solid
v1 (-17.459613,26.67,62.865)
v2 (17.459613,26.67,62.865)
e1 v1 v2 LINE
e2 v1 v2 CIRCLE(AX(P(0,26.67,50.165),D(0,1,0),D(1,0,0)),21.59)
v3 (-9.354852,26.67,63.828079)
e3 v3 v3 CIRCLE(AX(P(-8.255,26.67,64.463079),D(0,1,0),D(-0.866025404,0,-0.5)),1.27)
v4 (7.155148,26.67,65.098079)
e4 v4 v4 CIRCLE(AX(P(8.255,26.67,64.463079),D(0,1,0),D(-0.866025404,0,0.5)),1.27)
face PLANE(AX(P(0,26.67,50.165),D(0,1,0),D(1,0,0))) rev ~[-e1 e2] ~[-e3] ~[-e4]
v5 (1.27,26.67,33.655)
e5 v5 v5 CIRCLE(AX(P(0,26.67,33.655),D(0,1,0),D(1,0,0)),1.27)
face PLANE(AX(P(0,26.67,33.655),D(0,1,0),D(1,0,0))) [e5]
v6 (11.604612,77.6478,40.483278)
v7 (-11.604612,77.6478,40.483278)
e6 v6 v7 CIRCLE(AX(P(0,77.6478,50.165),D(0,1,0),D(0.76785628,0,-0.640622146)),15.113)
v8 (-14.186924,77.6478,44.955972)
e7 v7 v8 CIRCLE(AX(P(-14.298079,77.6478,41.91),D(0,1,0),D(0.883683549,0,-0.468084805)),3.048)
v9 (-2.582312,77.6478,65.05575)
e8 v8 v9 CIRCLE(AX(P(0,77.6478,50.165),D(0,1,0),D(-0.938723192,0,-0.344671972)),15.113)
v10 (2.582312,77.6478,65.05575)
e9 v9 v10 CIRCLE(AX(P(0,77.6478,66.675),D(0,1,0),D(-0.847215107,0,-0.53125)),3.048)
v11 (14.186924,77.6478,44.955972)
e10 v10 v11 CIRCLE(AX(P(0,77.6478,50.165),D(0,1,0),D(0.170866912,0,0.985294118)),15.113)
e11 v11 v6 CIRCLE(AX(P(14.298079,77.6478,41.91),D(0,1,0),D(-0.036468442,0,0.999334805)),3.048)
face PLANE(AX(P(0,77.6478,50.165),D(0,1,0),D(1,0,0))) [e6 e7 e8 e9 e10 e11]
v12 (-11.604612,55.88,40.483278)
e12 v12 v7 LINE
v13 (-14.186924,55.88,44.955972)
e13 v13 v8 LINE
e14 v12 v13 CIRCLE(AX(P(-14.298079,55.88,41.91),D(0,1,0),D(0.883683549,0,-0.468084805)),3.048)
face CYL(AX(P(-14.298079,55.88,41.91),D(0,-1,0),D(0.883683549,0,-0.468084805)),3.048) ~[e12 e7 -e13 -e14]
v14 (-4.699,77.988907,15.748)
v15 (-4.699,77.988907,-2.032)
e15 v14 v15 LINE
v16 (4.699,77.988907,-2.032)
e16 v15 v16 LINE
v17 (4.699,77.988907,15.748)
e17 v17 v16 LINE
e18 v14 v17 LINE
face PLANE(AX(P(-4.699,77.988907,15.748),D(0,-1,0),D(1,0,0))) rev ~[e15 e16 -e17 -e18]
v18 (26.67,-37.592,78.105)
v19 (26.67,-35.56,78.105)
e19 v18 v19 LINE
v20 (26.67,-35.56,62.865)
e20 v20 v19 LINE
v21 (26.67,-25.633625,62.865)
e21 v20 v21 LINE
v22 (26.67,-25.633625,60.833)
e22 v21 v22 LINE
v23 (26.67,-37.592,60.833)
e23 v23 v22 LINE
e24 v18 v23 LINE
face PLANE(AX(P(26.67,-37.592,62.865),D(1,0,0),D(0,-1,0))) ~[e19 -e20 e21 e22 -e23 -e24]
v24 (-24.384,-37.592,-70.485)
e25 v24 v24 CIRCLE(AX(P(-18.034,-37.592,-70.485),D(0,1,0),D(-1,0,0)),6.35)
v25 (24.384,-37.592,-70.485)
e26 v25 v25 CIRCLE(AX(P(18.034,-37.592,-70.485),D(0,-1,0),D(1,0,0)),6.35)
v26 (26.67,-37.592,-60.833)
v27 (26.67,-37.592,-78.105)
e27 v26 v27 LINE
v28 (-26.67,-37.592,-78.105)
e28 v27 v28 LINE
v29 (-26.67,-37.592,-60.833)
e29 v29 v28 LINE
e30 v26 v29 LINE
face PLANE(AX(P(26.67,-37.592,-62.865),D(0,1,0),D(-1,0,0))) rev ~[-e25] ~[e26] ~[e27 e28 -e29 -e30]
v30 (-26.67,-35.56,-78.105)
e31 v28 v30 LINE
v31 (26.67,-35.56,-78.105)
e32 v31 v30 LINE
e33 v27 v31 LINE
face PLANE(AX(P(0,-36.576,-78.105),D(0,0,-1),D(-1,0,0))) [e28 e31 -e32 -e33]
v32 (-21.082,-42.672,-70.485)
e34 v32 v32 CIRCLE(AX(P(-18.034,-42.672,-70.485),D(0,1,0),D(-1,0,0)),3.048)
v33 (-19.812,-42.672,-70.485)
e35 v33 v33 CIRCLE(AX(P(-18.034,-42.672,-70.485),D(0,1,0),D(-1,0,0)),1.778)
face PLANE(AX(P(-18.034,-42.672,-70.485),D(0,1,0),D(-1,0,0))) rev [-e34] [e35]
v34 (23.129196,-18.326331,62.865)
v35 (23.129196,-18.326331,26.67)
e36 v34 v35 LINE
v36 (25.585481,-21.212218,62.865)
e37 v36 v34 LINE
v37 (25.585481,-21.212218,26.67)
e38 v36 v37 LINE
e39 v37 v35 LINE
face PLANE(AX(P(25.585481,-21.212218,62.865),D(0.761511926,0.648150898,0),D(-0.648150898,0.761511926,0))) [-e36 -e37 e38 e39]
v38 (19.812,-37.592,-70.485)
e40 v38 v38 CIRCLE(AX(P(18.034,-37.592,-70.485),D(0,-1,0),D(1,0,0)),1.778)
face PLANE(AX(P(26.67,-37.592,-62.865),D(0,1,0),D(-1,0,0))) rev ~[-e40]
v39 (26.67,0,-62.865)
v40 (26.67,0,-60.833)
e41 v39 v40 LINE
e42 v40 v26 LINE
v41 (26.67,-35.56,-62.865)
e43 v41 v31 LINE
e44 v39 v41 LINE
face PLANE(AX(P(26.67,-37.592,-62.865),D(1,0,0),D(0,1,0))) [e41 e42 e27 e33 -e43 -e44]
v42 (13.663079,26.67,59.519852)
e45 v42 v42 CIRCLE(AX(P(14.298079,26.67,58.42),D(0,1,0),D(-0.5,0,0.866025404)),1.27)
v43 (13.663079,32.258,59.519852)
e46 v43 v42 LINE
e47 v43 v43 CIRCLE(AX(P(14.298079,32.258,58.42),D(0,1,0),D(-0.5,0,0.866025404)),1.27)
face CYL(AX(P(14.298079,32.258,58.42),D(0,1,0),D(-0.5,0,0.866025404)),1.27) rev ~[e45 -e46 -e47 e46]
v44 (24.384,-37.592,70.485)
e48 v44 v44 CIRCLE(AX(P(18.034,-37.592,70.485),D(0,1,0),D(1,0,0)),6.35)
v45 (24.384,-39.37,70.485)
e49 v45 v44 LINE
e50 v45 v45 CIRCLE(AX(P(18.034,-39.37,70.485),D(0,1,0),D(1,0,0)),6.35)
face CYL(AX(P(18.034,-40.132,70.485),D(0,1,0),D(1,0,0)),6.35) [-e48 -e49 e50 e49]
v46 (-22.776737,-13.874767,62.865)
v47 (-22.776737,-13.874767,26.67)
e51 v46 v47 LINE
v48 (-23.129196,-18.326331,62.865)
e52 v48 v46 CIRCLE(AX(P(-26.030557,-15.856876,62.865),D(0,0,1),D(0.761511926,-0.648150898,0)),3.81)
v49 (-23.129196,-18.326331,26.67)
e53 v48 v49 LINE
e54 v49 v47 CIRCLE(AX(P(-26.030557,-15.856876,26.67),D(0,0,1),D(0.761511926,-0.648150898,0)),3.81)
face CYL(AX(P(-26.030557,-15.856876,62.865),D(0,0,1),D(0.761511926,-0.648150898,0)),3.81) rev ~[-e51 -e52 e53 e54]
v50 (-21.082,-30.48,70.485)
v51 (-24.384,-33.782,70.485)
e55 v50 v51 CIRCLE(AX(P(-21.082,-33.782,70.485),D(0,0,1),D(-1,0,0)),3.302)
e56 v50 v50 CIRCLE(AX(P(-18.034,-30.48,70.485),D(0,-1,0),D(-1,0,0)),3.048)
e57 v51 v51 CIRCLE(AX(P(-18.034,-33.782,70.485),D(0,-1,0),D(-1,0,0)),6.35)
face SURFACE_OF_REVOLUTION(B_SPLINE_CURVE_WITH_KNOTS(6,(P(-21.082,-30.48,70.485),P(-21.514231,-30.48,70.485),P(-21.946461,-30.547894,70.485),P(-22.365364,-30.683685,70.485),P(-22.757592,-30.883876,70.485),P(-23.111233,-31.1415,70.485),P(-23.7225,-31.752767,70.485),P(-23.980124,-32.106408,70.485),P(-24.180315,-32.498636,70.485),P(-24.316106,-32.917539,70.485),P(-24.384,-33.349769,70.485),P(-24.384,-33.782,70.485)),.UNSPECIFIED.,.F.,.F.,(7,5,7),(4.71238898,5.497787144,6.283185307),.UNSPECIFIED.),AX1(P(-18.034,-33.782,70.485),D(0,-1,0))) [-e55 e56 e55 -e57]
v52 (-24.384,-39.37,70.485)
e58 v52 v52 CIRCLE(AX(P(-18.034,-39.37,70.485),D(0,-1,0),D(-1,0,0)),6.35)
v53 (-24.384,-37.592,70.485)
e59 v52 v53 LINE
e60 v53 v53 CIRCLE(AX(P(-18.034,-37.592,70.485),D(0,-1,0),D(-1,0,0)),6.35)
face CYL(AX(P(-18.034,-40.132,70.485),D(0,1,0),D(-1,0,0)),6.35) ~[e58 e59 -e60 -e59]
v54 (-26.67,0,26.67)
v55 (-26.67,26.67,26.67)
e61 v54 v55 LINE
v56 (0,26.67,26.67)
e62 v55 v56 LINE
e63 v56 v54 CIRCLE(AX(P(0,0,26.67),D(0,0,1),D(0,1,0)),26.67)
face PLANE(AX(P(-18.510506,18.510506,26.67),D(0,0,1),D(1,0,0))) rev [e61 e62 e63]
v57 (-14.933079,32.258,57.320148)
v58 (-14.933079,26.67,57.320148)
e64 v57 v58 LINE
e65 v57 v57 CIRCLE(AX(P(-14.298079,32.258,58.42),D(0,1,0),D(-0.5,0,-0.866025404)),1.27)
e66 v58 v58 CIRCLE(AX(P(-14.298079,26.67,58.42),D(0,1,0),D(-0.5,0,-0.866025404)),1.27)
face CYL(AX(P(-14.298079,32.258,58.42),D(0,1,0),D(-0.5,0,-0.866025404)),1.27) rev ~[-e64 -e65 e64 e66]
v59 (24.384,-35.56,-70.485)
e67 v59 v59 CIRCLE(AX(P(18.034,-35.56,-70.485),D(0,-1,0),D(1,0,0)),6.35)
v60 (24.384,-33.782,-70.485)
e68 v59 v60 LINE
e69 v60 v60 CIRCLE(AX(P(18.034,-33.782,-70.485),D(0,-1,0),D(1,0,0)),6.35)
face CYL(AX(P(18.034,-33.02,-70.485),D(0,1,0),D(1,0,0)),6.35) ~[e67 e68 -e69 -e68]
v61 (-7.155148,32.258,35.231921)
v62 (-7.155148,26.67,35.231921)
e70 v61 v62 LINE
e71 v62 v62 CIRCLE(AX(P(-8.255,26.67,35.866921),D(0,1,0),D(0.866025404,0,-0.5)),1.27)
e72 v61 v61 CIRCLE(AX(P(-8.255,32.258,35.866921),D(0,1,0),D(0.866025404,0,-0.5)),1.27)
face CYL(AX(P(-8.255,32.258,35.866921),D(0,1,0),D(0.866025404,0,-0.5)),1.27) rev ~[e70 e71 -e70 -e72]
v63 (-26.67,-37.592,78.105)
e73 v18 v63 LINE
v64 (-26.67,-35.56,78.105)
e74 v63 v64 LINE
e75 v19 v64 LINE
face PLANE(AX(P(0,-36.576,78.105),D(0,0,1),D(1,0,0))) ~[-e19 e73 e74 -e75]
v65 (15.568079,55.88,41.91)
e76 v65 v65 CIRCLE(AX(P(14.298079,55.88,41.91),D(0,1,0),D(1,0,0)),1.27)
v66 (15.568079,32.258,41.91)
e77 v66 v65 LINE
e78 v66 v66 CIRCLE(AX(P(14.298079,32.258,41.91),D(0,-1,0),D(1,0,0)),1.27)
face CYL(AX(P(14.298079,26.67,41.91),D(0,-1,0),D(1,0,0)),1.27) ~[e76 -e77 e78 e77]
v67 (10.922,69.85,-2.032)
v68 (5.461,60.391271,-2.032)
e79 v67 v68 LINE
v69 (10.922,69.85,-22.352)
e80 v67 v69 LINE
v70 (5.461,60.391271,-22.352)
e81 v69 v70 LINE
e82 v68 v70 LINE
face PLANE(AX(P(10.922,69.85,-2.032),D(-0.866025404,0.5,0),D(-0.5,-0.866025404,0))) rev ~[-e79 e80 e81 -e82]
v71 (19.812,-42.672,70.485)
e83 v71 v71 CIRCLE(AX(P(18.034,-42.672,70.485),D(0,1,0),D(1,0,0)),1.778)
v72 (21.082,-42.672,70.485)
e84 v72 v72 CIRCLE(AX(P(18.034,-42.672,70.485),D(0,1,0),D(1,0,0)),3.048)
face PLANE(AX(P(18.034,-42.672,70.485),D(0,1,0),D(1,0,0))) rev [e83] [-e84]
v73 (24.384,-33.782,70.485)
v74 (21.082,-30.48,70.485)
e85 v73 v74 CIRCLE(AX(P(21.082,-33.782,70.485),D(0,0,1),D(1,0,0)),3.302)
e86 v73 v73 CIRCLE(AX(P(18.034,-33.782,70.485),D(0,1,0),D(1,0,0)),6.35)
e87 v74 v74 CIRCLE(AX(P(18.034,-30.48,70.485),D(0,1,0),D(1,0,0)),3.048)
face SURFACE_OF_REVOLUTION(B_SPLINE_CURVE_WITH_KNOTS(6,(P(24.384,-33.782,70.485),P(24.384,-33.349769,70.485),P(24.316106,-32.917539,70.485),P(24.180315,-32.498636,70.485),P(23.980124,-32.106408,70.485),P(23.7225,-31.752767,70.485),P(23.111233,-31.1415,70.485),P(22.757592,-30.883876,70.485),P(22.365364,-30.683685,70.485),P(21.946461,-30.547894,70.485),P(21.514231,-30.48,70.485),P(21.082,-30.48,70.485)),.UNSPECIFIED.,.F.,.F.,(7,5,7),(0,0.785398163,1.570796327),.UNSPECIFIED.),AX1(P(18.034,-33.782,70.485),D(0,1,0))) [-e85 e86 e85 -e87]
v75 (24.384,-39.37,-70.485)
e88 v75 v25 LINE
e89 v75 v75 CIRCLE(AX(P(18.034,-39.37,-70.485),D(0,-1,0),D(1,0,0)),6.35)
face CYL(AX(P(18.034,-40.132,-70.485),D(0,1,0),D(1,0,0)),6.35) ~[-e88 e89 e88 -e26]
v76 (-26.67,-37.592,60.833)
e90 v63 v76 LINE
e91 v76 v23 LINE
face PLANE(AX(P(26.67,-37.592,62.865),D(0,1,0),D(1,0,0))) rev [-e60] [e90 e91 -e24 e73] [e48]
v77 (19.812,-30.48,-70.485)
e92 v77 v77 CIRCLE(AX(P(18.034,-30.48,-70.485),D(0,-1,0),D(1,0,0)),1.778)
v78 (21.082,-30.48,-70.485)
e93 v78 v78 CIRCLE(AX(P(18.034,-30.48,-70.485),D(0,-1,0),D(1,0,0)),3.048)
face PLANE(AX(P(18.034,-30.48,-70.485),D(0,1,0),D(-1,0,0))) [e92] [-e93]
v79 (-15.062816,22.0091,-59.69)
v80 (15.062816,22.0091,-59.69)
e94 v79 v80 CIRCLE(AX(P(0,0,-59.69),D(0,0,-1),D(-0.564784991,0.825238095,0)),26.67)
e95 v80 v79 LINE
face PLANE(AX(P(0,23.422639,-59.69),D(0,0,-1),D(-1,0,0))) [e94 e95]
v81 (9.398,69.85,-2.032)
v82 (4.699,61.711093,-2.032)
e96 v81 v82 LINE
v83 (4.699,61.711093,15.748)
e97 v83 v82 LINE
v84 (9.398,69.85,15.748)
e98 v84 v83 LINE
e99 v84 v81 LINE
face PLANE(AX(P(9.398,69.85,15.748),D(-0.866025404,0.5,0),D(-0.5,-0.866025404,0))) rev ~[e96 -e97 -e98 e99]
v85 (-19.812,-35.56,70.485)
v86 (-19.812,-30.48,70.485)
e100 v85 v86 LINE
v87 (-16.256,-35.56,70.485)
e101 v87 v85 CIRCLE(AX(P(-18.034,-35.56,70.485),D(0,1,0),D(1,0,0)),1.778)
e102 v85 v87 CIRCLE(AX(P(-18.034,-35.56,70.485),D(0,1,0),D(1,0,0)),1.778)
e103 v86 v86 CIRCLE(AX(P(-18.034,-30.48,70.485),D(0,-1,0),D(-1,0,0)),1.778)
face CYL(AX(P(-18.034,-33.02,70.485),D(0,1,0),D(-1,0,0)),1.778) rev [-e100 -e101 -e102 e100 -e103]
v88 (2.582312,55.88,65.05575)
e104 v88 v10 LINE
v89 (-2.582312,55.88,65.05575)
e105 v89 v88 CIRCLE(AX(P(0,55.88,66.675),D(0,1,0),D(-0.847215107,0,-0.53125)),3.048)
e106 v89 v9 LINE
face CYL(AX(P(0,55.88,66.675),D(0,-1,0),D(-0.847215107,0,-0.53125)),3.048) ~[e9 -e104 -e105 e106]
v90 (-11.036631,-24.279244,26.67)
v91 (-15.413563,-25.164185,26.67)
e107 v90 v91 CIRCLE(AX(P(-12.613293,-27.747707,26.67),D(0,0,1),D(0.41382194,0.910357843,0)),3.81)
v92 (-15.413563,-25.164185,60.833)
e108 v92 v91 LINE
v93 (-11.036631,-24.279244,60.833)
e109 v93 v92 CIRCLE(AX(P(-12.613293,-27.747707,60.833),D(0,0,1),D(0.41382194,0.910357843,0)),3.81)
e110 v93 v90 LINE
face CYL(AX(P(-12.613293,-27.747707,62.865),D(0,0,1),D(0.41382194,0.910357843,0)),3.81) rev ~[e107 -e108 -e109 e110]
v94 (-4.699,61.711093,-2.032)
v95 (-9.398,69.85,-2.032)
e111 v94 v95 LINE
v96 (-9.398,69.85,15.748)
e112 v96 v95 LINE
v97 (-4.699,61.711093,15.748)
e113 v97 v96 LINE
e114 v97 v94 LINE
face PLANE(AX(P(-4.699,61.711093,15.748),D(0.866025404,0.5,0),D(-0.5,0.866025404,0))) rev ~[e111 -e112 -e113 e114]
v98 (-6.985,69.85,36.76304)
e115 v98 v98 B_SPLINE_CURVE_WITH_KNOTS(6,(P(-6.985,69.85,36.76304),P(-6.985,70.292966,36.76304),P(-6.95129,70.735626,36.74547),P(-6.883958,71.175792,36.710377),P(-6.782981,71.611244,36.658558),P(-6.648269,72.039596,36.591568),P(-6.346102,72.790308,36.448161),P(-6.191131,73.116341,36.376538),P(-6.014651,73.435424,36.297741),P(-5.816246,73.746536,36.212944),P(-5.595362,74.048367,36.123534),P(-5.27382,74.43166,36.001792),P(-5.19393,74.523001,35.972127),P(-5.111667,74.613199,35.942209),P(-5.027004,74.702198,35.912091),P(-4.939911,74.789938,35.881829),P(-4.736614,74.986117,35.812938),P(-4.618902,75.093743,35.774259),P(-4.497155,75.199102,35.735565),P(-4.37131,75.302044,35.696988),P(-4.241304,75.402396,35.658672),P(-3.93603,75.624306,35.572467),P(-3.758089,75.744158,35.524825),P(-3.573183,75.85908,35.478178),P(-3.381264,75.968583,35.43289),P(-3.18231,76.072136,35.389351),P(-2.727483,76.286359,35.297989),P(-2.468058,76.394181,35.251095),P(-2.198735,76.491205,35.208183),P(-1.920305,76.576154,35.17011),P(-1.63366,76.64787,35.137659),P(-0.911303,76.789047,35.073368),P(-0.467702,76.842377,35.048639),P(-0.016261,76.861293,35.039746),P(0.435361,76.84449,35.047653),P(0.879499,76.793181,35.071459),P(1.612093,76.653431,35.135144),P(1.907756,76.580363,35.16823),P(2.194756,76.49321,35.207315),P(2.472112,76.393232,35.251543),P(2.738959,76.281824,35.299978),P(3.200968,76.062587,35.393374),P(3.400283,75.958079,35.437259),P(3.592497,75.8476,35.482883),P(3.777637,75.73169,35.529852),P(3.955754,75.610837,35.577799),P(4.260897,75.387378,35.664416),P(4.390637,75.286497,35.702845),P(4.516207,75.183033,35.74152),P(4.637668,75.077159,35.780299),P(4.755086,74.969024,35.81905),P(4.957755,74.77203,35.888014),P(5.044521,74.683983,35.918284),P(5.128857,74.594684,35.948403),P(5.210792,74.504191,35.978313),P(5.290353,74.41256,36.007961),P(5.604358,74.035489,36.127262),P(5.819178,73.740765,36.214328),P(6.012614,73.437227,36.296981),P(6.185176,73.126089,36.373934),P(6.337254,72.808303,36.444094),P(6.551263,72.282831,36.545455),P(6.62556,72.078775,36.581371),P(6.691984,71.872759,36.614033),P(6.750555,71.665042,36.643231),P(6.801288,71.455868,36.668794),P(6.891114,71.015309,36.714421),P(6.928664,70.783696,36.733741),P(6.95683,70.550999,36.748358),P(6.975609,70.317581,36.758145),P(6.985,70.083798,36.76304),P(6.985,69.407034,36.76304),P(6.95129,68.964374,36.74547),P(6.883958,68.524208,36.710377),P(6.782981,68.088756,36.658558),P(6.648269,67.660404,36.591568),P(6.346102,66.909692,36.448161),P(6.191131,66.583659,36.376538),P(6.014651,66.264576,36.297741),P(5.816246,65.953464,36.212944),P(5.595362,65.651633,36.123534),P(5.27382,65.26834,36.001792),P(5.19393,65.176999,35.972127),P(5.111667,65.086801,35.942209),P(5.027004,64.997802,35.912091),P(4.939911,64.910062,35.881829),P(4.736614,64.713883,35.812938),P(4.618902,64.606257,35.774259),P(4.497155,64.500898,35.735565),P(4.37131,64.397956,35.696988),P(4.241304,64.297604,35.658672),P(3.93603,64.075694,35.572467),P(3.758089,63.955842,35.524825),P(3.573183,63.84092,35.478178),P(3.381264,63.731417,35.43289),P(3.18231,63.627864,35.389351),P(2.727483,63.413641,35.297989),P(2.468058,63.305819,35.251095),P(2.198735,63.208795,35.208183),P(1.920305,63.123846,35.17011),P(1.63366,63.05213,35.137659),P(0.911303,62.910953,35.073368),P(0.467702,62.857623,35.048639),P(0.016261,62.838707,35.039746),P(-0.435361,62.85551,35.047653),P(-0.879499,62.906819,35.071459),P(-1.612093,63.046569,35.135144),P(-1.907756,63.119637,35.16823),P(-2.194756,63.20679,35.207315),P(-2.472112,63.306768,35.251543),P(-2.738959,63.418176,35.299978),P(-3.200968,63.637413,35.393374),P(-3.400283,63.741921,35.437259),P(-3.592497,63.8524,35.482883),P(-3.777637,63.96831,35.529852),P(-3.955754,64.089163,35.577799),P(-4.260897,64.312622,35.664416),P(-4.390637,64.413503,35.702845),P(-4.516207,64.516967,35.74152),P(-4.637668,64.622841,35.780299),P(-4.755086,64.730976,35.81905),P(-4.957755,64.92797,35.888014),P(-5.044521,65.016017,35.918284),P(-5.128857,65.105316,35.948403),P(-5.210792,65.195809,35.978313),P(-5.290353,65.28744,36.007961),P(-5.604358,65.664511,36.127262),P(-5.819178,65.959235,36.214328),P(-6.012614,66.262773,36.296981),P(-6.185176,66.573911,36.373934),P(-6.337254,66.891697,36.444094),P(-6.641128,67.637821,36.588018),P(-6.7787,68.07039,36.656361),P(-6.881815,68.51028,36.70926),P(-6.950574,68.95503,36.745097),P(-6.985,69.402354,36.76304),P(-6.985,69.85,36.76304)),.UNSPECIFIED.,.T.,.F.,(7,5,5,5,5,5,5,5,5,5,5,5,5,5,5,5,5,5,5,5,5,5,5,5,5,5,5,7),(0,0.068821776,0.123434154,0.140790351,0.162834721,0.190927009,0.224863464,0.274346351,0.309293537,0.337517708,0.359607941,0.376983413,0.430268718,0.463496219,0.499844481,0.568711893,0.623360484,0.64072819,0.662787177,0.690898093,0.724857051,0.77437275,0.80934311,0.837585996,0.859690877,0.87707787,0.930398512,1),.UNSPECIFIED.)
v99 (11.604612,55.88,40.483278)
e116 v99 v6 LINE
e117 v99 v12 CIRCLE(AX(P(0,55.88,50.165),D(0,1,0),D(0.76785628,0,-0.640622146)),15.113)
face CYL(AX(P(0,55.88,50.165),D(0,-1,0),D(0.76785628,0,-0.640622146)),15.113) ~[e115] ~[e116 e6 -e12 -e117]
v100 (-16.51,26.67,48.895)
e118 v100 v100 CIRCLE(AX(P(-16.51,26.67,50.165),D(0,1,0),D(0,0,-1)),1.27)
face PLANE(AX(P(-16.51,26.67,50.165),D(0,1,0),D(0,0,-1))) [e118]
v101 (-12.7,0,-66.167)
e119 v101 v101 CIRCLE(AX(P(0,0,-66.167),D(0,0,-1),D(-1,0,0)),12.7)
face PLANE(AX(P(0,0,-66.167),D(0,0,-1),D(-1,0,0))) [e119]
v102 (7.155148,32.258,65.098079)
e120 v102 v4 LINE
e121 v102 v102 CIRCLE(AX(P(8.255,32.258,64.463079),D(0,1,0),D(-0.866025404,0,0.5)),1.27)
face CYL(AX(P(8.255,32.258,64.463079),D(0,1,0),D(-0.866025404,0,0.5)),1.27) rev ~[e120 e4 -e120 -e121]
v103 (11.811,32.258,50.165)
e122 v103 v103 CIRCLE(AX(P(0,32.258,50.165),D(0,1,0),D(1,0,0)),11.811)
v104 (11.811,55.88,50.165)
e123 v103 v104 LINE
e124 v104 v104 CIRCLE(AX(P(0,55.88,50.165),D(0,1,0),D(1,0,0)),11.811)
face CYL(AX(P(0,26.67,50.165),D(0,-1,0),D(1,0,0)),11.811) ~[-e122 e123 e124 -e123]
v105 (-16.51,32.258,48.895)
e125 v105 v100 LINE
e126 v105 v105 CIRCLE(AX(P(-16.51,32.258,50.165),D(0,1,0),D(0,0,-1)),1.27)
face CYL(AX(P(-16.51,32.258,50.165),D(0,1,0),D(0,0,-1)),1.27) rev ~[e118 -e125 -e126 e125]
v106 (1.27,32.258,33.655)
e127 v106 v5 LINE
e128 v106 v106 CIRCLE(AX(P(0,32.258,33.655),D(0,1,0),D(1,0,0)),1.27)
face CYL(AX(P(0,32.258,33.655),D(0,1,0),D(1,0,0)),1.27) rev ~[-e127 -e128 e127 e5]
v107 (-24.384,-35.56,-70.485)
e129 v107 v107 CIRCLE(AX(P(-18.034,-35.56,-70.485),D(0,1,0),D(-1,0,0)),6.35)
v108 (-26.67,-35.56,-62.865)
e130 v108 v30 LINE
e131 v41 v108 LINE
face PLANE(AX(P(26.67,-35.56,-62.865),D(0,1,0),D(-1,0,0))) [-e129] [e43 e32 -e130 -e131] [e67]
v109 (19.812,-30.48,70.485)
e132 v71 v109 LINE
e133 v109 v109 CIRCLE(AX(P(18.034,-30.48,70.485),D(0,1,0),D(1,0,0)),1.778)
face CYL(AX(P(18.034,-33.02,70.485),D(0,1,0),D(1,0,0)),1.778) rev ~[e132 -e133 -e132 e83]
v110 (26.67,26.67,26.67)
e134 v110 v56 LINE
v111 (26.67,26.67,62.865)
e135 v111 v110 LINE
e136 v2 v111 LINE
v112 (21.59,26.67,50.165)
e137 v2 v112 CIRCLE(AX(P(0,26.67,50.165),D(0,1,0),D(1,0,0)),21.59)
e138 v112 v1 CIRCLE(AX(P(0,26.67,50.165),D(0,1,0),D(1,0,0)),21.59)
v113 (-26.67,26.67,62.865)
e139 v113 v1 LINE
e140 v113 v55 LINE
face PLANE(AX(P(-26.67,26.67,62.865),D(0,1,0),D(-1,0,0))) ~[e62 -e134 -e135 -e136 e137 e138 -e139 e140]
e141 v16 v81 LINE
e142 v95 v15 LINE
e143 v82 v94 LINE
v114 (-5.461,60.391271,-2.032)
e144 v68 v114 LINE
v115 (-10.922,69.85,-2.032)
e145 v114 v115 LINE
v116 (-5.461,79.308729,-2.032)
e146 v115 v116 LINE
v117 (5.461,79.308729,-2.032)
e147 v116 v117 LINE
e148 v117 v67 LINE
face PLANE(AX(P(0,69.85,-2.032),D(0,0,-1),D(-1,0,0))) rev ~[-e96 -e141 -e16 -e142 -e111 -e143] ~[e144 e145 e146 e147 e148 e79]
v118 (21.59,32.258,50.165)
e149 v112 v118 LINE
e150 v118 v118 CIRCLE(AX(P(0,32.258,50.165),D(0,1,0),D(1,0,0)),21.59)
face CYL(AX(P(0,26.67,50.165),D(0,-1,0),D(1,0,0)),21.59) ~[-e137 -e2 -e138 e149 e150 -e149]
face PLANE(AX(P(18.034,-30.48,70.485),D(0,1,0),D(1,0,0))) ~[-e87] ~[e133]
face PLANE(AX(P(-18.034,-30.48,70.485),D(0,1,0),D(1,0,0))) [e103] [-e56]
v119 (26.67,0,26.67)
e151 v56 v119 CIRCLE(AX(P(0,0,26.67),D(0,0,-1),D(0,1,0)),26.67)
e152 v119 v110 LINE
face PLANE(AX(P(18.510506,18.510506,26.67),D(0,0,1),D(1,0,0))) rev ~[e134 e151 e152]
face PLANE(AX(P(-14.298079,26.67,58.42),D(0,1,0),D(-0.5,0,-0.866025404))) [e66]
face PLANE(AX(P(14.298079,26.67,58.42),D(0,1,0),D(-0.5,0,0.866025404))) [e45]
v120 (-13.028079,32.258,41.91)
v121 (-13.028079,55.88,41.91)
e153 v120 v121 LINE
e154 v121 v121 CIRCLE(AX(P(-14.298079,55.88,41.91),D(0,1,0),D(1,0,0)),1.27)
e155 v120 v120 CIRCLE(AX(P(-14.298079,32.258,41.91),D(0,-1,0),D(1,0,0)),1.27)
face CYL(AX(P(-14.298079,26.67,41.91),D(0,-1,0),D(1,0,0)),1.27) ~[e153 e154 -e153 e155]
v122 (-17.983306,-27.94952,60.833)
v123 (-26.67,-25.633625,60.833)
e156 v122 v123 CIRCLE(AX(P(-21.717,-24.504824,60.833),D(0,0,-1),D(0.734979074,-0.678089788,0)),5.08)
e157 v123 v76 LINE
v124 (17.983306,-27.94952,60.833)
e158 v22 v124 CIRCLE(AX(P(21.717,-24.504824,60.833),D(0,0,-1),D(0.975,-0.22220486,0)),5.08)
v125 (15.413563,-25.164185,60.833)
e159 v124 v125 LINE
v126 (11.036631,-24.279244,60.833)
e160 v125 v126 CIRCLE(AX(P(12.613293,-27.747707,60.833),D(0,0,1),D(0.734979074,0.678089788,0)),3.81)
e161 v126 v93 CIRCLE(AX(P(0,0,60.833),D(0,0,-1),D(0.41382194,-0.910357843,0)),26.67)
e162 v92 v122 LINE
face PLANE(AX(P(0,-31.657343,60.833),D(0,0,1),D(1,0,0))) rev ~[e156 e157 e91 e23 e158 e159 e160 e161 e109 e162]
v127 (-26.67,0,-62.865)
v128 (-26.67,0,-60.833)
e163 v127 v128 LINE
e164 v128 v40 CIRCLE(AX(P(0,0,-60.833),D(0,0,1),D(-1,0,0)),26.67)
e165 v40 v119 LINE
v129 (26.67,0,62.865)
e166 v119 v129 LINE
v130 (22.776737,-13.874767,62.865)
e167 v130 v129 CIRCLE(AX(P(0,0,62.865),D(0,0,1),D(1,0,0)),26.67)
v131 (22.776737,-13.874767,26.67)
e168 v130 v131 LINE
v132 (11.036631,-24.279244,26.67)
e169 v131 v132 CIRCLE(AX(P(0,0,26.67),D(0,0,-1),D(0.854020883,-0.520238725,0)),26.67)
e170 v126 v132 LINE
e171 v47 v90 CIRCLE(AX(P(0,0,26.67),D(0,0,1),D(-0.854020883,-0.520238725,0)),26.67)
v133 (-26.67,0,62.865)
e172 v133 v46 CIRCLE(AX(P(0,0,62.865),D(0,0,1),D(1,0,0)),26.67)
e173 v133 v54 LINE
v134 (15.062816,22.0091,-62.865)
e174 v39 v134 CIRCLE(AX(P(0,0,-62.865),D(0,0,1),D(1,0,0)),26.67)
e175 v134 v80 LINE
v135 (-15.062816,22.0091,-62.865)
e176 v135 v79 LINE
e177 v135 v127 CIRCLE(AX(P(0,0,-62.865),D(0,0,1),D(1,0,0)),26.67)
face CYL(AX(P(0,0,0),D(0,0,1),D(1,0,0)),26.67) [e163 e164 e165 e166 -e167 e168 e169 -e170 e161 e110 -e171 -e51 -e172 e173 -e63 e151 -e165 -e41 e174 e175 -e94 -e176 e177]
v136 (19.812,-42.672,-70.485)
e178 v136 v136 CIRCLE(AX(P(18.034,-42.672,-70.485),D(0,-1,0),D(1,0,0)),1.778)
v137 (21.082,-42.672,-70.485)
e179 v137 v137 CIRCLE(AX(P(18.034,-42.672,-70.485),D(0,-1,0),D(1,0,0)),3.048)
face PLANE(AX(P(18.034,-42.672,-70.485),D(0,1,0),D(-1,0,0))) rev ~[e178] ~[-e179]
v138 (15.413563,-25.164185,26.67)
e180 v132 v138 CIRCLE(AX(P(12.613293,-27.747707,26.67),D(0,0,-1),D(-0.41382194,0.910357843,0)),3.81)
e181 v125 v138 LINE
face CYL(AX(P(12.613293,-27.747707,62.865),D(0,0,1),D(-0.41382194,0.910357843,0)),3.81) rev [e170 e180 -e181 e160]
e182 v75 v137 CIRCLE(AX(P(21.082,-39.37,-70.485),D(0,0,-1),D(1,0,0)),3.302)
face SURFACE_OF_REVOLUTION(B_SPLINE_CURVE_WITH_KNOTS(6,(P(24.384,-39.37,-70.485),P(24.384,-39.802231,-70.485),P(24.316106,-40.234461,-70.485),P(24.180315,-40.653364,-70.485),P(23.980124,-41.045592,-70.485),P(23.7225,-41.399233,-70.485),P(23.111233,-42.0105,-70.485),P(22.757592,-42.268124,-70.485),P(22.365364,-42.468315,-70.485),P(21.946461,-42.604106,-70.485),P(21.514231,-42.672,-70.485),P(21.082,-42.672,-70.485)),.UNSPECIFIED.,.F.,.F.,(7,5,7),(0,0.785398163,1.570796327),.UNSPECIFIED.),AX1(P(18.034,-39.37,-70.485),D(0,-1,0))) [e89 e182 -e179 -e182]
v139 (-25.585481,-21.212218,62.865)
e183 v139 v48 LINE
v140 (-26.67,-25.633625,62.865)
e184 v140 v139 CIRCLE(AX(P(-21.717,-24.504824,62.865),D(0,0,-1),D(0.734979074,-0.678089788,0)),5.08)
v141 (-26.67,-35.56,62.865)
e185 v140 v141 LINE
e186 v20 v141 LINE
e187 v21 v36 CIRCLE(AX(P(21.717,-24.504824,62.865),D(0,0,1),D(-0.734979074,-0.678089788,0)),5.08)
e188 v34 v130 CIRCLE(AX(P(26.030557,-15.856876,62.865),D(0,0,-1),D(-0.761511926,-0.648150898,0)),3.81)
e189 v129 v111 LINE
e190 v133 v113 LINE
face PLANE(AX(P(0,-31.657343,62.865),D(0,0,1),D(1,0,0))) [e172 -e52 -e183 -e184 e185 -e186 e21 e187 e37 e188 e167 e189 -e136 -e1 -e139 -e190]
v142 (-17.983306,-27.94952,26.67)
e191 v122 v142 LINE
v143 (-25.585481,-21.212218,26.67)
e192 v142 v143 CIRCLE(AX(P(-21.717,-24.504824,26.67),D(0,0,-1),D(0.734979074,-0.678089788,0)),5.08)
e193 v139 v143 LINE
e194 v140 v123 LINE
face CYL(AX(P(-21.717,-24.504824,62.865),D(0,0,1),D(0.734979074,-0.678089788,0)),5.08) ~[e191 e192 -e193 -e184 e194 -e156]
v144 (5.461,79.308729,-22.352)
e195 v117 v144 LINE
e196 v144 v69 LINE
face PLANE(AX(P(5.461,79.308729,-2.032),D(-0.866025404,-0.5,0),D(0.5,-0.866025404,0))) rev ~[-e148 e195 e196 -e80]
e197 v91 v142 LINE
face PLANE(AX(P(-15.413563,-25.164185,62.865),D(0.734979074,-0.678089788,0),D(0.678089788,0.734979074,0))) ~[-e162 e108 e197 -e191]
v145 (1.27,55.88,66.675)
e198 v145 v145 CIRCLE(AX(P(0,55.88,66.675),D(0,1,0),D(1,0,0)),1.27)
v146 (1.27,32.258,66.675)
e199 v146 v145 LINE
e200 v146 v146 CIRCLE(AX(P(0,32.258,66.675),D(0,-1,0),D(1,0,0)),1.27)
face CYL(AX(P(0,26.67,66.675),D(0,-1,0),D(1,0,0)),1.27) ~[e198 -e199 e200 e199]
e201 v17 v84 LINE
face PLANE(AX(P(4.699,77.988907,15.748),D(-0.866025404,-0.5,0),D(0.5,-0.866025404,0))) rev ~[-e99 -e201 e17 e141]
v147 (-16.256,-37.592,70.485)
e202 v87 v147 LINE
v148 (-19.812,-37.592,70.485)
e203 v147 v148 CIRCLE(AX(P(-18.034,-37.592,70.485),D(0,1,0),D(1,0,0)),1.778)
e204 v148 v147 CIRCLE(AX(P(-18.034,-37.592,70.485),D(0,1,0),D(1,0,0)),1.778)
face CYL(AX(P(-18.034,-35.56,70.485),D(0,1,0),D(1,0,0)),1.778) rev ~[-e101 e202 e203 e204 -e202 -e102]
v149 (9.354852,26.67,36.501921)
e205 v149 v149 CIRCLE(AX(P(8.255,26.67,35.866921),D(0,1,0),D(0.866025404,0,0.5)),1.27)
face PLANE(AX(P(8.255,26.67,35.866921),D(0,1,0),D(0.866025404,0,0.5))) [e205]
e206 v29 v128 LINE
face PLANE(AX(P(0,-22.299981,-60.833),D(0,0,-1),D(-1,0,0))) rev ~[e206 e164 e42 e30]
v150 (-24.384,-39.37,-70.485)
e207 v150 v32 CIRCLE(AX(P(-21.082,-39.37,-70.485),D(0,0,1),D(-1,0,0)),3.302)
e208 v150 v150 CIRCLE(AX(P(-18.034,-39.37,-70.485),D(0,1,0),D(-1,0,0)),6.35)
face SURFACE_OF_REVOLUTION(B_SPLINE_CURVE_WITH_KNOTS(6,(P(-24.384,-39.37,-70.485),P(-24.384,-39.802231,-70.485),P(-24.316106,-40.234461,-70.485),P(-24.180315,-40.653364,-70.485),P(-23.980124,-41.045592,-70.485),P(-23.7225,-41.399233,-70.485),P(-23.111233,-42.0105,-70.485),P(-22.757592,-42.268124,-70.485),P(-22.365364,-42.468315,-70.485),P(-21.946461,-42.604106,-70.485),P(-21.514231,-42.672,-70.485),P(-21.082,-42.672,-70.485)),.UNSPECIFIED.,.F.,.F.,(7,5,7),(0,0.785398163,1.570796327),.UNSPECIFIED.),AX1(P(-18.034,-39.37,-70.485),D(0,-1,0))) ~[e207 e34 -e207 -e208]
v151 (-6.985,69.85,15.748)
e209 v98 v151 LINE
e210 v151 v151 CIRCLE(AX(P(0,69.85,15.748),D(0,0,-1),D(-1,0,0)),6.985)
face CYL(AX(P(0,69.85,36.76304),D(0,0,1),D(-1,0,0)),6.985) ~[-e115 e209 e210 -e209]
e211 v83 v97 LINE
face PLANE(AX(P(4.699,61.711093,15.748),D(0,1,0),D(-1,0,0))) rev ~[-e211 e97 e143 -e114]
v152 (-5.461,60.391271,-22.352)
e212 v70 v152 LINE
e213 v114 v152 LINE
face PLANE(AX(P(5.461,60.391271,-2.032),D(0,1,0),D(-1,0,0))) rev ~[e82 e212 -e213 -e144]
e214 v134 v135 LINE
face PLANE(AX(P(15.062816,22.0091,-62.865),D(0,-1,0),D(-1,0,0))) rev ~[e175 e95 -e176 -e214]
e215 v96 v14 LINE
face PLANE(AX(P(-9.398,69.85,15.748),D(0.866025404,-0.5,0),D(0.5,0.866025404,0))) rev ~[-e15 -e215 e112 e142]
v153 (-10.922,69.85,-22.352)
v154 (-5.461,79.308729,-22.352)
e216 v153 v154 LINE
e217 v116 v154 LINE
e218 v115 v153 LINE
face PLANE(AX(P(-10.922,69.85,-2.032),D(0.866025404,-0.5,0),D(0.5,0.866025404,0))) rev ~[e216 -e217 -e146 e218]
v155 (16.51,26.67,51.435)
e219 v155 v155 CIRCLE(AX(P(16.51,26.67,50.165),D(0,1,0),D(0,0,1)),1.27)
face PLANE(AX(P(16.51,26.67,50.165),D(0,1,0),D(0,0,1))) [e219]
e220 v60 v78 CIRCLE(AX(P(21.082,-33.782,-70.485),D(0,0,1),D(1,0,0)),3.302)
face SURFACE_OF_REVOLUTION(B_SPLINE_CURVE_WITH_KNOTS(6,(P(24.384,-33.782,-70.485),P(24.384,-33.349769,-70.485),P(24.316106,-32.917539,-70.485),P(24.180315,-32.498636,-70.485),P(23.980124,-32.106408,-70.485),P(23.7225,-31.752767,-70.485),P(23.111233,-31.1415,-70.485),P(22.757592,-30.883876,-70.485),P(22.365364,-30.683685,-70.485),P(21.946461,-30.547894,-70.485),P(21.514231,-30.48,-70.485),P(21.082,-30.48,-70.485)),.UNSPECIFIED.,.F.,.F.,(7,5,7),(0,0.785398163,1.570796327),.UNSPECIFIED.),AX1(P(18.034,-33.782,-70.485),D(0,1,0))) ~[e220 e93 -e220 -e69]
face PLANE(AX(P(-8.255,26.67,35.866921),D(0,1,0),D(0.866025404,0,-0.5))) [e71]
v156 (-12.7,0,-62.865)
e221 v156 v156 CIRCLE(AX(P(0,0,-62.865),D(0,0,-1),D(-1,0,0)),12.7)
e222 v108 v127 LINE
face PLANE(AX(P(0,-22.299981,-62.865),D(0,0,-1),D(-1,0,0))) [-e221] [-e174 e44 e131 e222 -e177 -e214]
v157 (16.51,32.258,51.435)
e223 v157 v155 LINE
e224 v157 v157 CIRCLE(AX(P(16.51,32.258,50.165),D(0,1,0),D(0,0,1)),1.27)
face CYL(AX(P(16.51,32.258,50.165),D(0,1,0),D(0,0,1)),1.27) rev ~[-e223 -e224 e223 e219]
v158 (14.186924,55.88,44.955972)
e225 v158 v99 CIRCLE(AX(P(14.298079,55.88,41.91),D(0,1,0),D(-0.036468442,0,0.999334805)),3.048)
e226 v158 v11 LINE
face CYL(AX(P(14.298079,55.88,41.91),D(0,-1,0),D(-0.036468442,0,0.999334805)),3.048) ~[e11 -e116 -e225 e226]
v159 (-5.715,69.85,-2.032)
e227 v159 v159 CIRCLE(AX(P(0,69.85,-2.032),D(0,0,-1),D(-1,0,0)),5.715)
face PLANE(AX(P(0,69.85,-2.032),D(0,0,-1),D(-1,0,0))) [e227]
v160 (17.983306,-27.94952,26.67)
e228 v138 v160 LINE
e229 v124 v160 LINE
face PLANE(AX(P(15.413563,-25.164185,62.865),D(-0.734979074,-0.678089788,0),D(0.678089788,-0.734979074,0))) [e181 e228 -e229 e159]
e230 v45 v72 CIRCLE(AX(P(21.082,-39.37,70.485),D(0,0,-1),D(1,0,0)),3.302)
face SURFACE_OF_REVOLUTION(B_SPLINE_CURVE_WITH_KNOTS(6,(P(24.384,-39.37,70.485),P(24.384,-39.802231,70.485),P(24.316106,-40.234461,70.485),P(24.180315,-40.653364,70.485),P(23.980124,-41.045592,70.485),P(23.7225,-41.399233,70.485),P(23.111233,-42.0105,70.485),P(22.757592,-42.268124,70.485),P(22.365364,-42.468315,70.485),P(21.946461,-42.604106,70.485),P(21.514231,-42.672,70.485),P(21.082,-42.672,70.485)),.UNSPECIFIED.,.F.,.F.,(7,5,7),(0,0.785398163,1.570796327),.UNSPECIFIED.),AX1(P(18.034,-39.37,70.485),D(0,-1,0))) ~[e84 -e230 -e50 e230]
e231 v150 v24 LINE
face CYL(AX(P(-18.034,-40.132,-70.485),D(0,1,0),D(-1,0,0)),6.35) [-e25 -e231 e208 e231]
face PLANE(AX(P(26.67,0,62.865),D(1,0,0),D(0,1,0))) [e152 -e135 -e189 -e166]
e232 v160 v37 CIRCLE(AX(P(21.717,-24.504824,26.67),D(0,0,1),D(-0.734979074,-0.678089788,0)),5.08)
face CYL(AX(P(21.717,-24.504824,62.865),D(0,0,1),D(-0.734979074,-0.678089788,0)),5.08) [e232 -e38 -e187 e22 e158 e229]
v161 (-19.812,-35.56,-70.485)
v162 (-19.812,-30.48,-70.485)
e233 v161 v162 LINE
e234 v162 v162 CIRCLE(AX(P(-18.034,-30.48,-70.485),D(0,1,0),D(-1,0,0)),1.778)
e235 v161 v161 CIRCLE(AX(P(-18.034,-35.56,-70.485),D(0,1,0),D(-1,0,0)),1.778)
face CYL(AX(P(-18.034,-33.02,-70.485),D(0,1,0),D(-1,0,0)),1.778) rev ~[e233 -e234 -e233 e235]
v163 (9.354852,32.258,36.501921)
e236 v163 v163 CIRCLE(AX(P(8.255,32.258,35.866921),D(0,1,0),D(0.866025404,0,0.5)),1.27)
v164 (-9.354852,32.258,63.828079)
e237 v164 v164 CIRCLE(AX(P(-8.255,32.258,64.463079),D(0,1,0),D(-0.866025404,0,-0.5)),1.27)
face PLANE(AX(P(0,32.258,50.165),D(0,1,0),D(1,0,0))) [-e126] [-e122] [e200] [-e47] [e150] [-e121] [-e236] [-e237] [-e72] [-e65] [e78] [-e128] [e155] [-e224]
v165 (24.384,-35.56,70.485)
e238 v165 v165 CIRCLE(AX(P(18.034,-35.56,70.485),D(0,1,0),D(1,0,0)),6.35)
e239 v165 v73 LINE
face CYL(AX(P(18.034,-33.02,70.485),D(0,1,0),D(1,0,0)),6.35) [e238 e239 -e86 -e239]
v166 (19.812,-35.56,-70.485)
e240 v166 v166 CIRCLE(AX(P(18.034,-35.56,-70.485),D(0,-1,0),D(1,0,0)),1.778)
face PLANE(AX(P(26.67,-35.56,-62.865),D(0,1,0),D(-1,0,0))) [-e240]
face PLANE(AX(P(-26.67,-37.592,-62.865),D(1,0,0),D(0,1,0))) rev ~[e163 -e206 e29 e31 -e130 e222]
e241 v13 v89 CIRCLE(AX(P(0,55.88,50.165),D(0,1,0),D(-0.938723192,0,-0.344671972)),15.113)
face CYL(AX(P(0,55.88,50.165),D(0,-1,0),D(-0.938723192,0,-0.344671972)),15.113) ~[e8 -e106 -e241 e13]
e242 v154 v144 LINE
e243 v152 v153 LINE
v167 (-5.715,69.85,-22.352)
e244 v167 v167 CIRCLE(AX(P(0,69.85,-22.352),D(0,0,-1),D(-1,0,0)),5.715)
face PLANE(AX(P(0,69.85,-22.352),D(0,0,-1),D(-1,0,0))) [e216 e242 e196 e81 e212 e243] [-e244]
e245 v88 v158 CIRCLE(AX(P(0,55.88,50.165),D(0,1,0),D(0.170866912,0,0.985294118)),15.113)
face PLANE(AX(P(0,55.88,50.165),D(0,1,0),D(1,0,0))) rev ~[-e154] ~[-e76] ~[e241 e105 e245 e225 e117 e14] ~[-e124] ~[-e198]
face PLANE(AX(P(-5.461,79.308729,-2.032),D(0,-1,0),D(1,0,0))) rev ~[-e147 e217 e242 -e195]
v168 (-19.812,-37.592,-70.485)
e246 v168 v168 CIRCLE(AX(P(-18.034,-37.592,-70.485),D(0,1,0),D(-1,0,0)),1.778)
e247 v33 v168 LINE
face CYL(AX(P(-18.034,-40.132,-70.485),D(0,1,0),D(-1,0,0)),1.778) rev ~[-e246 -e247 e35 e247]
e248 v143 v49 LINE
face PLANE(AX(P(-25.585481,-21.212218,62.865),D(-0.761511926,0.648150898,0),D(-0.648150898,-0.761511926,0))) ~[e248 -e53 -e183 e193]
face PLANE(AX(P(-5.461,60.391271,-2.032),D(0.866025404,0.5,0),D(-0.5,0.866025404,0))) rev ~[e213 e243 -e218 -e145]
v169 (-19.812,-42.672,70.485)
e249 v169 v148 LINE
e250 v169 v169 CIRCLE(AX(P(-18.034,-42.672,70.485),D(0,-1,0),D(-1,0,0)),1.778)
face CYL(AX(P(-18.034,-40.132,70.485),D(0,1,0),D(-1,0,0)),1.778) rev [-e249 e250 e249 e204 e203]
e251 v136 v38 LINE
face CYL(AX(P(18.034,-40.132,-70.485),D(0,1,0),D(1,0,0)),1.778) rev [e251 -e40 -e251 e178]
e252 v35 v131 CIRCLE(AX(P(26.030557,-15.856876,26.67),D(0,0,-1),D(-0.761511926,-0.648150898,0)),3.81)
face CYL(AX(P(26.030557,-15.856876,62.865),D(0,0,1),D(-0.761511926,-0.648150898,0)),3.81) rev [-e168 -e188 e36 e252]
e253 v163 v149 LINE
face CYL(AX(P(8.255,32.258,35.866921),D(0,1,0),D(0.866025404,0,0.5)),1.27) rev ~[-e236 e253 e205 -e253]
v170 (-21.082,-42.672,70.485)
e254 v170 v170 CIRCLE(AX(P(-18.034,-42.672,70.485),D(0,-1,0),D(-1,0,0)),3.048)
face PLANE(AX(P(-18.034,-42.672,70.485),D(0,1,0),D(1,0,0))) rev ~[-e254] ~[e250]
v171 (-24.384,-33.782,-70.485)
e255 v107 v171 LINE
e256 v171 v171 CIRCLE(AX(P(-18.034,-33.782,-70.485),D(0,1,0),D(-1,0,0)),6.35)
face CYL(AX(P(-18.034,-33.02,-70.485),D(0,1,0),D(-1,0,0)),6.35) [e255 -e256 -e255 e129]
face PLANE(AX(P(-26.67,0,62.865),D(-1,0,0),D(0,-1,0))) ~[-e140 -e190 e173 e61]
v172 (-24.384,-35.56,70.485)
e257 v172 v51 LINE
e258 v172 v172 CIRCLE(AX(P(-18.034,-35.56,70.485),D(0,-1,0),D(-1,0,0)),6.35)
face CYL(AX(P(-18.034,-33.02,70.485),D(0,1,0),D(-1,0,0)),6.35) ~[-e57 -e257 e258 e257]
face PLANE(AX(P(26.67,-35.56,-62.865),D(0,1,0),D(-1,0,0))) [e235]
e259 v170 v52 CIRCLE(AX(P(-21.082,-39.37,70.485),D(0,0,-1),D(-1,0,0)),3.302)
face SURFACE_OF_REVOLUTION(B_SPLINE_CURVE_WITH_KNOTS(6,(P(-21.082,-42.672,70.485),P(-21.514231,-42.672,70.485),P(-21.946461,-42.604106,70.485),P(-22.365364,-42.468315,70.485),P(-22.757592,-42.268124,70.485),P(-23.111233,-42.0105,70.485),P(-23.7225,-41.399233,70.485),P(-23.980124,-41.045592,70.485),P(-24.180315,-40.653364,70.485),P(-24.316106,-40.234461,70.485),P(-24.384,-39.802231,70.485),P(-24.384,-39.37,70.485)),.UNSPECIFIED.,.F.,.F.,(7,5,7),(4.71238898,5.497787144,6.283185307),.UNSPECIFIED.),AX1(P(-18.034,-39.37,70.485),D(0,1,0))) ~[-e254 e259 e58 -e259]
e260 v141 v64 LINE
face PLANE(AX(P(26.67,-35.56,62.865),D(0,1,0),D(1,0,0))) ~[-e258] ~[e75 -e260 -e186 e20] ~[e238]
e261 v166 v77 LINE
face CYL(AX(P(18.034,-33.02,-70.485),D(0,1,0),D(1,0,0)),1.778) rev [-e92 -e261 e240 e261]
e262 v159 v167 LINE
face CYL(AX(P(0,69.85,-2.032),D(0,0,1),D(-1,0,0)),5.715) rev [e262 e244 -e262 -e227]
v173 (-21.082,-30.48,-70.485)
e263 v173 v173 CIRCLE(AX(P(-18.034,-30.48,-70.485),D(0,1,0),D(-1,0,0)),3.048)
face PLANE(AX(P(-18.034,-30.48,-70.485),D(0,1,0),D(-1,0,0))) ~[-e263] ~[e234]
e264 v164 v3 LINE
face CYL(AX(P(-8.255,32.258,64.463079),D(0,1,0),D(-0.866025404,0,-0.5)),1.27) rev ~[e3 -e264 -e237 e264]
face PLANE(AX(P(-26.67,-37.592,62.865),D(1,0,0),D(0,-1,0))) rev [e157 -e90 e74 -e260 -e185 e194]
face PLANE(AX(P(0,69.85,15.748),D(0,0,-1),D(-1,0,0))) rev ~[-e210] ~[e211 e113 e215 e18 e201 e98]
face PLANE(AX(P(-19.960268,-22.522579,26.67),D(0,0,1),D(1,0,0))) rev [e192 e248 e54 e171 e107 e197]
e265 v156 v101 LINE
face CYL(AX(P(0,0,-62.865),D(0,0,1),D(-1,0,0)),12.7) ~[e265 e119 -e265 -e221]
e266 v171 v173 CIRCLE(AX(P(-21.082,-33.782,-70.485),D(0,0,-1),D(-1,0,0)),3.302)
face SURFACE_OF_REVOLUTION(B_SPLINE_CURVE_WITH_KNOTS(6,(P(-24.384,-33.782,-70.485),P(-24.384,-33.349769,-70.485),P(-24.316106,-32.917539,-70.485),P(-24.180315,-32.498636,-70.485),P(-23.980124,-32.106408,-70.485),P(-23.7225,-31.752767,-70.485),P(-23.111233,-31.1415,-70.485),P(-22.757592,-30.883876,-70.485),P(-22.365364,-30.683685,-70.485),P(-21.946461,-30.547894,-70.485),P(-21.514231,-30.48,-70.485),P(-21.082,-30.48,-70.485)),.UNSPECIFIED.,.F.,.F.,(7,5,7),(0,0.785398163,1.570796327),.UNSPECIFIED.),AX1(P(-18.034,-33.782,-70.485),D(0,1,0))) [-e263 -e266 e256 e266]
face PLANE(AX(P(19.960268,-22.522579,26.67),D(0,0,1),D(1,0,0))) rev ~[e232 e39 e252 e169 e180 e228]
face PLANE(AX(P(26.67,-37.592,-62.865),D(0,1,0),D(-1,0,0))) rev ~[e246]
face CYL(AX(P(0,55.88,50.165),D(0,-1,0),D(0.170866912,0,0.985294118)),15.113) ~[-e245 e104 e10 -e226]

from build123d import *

# Parameters (mm, degrees)
SKETCH1_R               = 26.67
BOSS_EXTRUDE1_DEPTH     = 62.865
BOSS_EXTRUDE2_DEPTH     = 36.195
BOSS_EXTRUDE4_DEPTH     = 2.032
SKETCH7_W               = 53.34
SKETCH7_H               = 2.032
BOSS_EXTRUDE5_DEPTH     = 15.24
BOSS_EXTRUDE6_DEPTH     = 2.032
CUT_EXTRUDE1_DEPTH      = 3.175
SKETCH11_R              = 12.7
BOSS_EXTRUDE7_DEPTH     = 3.302
SKETCH12_R              = 1.778
CUT_EXTRUDE2_DEPTH      = 3.032
SKETCH13_W              = 4.572
SKETCH13_H              = 5.08
MIRROR4_COPY_1_SKETCH_W = 4.572
MIRROR4_COPY_1_SKETCH_H = 5.08
FILLET2_R               = 3.302
SKETCH14_R              = 21.59
SKETCH14_R_2            = 11.811
BOSS_EXTRUDE8_DEPTH     = 5.588
SKETCH15_R              = 1.27
CUT_EXTRUDE3_DEPTH      = 5.588
CIRPATTERN1_COUNT       = 12
SKETCH16_R              = 11.811
SKETCH16_R_2            = 1.27
BOSS_EXTRUDE9_DEPTH     = 29.21
BOSS_EXTRUDE10_DEPTH    = 21.7678
BOSS_EXTRUDE11_START    = -1.71104
SKETCH19_R              = 6.985
BOSS_EXTRUDE11_DEPTH    = 21.01504
BOSS_EXTRUDE12_DEPTH    = 17.78
SKETCH23_R              = 5.715
BOSS_EXTRUDE15_DEPTH    = 20.32


with BuildPart() as part:
    # Sketch1 → Boss-Extrude1 (new body, symmetric)
    with BuildSketch(Plane.XY):
        Circle(SKETCH1_R)
    extrude(amount=BOSS_EXTRUDE1_DEPTH, both=True)

    # Sketch2 → Boss-Extrude2 (add)
    with BuildSketch(Plane.XY.offset(62.865)):
        with BuildLine():
            Line((26.67, 26.67), (0, 26.67))
            ThreePointArc((0, 26.67), (18.858537854, 18.858537854), (26.67, 0))
            Line((26.67, 0), (26.67, 26.67))
        make_face()
        with BuildLine():
            ThreePointArc((23.129196088, -18.326331253), (22.232442946, -16.15759753), (22.77673696, -13.87476679))
            ThreePointArc((22.77673696, -13.87476679), (17.688958427, -19.959700643), (11.036631134, -24.279243671))
            ThreePointArc((11.036631134, -24.279243671), (13.368332341, -24.013270658), (15.413562996, -25.164184959))
            Line((15.413562996, -25.164184959), (17.983306305, -27.949520455))
            ThreePointArc((17.983306305, -27.949520455), (25.086325415, -28.306672072), (25.585480583, -21.212217768))
            Line((25.585480583, -21.212217768), (23.129196088, -18.326331253))
        make_face()
    boss_extrude2 = extrude(amount=-BOSS_EXTRUDE2_DEPTH)

    # Mirror1: Boss-Extrude2 across plane
    add(boss_extrude2.mirror(Plane(origin=(0, 0, 0), x_dir=(0, 0, 1), z_dir=(1, 0, 0))))

    # Sketch6 → Boss-Extrude4 (add)
    with BuildSketch(Plane(origin=(0, 0, -62.865), x_dir=(-1, 0, 0), z_dir=(0, 0, -1))):
        with BuildLine():
            Line((-26.67, 0), (-26.67, -37.592))
            Line((-26.67, -37.592), (26.67, -37.592))
            Line((26.67, -37.592), (26.67, 0))
            ThreePointArc((26.67, 0), (0, -26.67), (-26.67, 0))
        make_face()
    extrude(amount=-BOSS_EXTRUDE4_DEPTH)

    # Sketch7 → Boss-Extrude5 (add)
    with BuildSketch(Plane(origin=(0, 0, -62.865), x_dir=(-1, 0, 0), z_dir=(0, 0, -1))):
        with Locations((0, -36.576)):
            Rectangle(SKETCH7_W, SKETCH7_H)
    boss_extrude5 = extrude(amount=BOSS_EXTRUDE5_DEPTH)

    # Sketch9 → Boss-Extrude6 (add)
    with BuildSketch(Plane.XY.offset(62.865)):
        with BuildLine():
            Line((-15.413562996, -25.164184959), (-17.983306305, -27.949520455))
            ThreePointArc((-17.983306305, -27.949520455), (-23.025632829, -29.413376064), (-26.67, -25.633625022))
            Line((-26.67, -25.633625022), (-26.67, -37.592))
            Line((-26.67, -37.592), (26.67, -37.592))
            Line((26.67, -37.592), (26.67, -25.633625022))
            ThreePointArc((26.67, -25.633625022), (23.025632829, -29.413376064), (17.983306305, -27.949520455))
            Line((17.983306305, -27.949520455), (15.413562996, -25.164184959))
            ThreePointArc((15.413562996, -25.164184959), (13.368332341, -24.013270658), (11.036631134, -24.279243671))
            ThreePointArc((11.036631134, -24.279243671), (0, -26.67), (-11.036631134, -24.279243671))
            ThreePointArc((-11.036631134, -24.279243671), (-13.368332341, -24.013270658), (-15.413562996, -25.164184959))
        make_face()
    extrude(amount=-BOSS_EXTRUDE6_DEPTH)

    # Mirror2: Boss-Extrude5 across plane
    add(boss_extrude5.mirror(Plane.XY))

    # Sketch10 → Cut-Extrude1 (cut)
    with BuildSketch(Plane(origin=(0, 0, -62.865), x_dir=(-1, 0, 0), z_dir=(0, 0, -1))):
        with BuildLine():
            Line((-15.062815713, 22.0091), (15.062815713, 22.0091))
            ThreePointArc((15.062815713, 22.0091), (0, 26.67), (-15.062815713, 22.0091))
        make_face()
    extrude(amount=-CUT_EXTRUDE1_DEPTH, mode=Mode.SUBTRACT)

    # Sketch11 → Boss-Extrude7 (add)
    with BuildSketch(Plane(origin=(0, 0, -62.865), x_dir=(-1, 0, 0), z_dir=(0, 0, -1))):
        Circle(SKETCH11_R)
    extrude(amount=BOSS_EXTRUDE7_DEPTH)

    # Sketch12 → Cut-Extrude2 (cut, through all)
    with BuildSketch(Plane(origin=(0, -35.56, 0), x_dir=(1, 0, 0), z_dir=(0, 1, 0))):
        with Locations((-18.034, -70.485)):
            Circle(SKETCH12_R)
        with Locations((18.034, -70.485)):
            Circle(SKETCH12_R)
    extrude(amount=-CUT_EXTRUDE2_DEPTH, mode=Mode.SUBTRACT)

    # Sketch13 → Revolve1 (revolve)
    with BuildSketch(Plane.XY.offset(70.485)):
        with Locations((22.098, -33.02)):
            Rectangle(SKETCH13_W, SKETCH13_H)
        with Locations((22.098, -40.132)):
            Rectangle(SKETCH13_W, SKETCH13_H)
    revolve1 = revolve(axis=Axis((18.034, -35.56, 70.485), (0, 1, 0)))

    # Mirror3: Revolve1 across plane
    add(revolve1.mirror(Plane(origin=(0, 0, 0), x_dir=(0, 0, 1), z_dir=(1, 0, 0))))

    # Mirror4: Revolve1 across plane
    add(revolve1.mirror(Plane.XY))

    # Mirror4 copy 1 sketch → Mirror4 copy 1 (revolve)
    with BuildSketch(Plane(origin=(0, 0, -70.485), x_dir=(-1, 0, 0), z_dir=(0, 0, -1))):
        with Locations((22.098, -33.02)):
            Rectangle(MIRROR4_COPY_1_SKETCH_W, MIRROR4_COPY_1_SKETCH_H)
        with Locations((22.098, -40.132)):
            Rectangle(MIRROR4_COPY_1_SKETCH_W, MIRROR4_COPY_1_SKETCH_H)
    revolve(axis=Axis((-18.034, -35.56, -70.485), (0, 1, 0)))

    # Fillet2
    fillet2_edges = [part.edges().sort_by_distance(p)[0] for p in [
        (11.684, -30.48, 70.485),
        (11.684, -42.672, 70.485),
        (-11.684, -30.48, 70.485),
        (-11.684, -42.672, 70.485),
        (-11.684, -30.48, -70.485),
        (-11.684, -42.672, -70.485),
        (11.684, -30.48, -70.485),
        (11.684, -42.672, -70.485),
    ]]
    fillet(fillet2_edges, radius=FILLET2_R)

    # Sketch14 → Boss-Extrude8 (add)
    with BuildSketch(Plane(origin=(0, 26.67, 0), x_dir=(1, 0, 0), z_dir=(0, 1, 0))):
        with Locations((0, -50.165)):
            Circle(SKETCH14_R)
        with Locations((0, -50.165)):
            Circle(SKETCH14_R_2, mode=Mode.SUBTRACT)
    extrude(amount=BOSS_EXTRUDE8_DEPTH)

    # Sketch15 → Cut-Extrude3 (cut)
    with BuildSketch(Plane(origin=(0, 32.258, 0), x_dir=(1, 0, 0), z_dir=(0, 1, 0))):
        with Locations((0, -33.655)):
            Circle(SKETCH15_R)
    cut_extrude3 = extrude(amount=-CUT_EXTRUDE3_DEPTH, mode=Mode.SUBTRACT)

    # CirPattern1: Cut-Extrude3 ×12 about axis
    cirpattern1_axis = Axis((0, 0, 50.165), (0, 1, 0))
    for i in range(1, CIRPATTERN1_COUNT):
        add(cut_extrude3.rotate(cirpattern1_axis, i * 360 / CIRPATTERN1_COUNT), mode=Mode.SUBTRACT)

    # Sketch16 → Boss-Extrude9 (add)
    with BuildSketch(Plane(origin=(0, 26.67, 0), x_dir=(1, 0, 0), z_dir=(0, 1, 0))):
        with Locations((0, -50.165)):
            Circle(SKETCH16_R)
        with Locations((0, -66.675)):
            Circle(SKETCH16_R_2)
        with Locations((-14.298079416, -41.91)):
            Circle(SKETCH16_R_2)
        with Locations((14.298079416, -41.91)):
            Circle(SKETCH16_R_2)
    extrude(amount=BOSS_EXTRUDE9_DEPTH)

    # Sketch18 → Boss-Extrude10 (add)
    with BuildSketch(Plane(origin=(0, 55.88, 0), x_dir=(1, 0, 0), z_dir=(0, 1, 0))):
        with BuildLine():
            ThreePointArc((2.582311646, -65.05575), (13.088241927, -57.7215), (14.186923604, -44.955972486))
            ThreePointArc((14.186923604, -44.955972486), (16.937724847, -40.386), (11.604611958, -40.483277514))
            ThreePointArc((11.604611958, -40.483277514), (0, -35.052), (-11.604611958, -40.483277514))
            ThreePointArc((-11.604611958, -40.483277514), (-16.937724847, -40.386), (-14.186923604, -44.955972486))
            ThreePointArc((-14.186923604, -44.955972486), (-13.088241927, -57.7215), (-2.582311646, -65.05575))
            ThreePointArc((-2.582311646, -65.05575), (0, -69.723), (2.582311646, -65.05575))
        make_face()
    extrude(amount=BOSS_EXTRUDE10_DEPTH)

    # Sketch19 → Boss-Extrude11 (add)
    with BuildSketch(Plane(origin=(0, 0, 35.052), x_dir=(-1, 0, 0), z_dir=(0, 0, -1)).offset(BOSS_EXTRUDE11_START)):
        with Locations((0, 69.85)):
            Circle(SKETCH19_R)
    extrude(amount=BOSS_EXTRUDE11_DEPTH)

    # Sketch20 → Boss-Extrude12 (add)
    with BuildSketch(Plane(origin=(0, 0, 15.748), x_dir=(-1, 0, 0), z_dir=(0, 0, -1))):
        Polygon((4.699, 61.711093255), (9.398, 69.85), (4.699, 77.988906745), (-4.699, 77.988906745), (-9.398, 69.85), (-4.699, 61.711093255), align=None)
    extrude(amount=BOSS_EXTRUDE12_DEPTH)

    # Sketch23 → Boss-Extrude15 (add)
    with BuildSketch(Plane(origin=(0, 0, -2.032), x_dir=(-1, 0, 0), z_dir=(0, 0, -1))):
        Polygon((10.922, 69.85), (5.461, 79.30872946), (-5.461, 79.30872946), (-10.922, 69.85), (-5.461, 60.39127054), (5.461, 60.39127054), align=None)
        with Locations((0, 69.85)):
            Circle(SKETCH23_R, mode=Mode.SUBTRACT)
    extrude(amount=BOSS_EXTRUDE15_DEPTH)


solid = part.part
